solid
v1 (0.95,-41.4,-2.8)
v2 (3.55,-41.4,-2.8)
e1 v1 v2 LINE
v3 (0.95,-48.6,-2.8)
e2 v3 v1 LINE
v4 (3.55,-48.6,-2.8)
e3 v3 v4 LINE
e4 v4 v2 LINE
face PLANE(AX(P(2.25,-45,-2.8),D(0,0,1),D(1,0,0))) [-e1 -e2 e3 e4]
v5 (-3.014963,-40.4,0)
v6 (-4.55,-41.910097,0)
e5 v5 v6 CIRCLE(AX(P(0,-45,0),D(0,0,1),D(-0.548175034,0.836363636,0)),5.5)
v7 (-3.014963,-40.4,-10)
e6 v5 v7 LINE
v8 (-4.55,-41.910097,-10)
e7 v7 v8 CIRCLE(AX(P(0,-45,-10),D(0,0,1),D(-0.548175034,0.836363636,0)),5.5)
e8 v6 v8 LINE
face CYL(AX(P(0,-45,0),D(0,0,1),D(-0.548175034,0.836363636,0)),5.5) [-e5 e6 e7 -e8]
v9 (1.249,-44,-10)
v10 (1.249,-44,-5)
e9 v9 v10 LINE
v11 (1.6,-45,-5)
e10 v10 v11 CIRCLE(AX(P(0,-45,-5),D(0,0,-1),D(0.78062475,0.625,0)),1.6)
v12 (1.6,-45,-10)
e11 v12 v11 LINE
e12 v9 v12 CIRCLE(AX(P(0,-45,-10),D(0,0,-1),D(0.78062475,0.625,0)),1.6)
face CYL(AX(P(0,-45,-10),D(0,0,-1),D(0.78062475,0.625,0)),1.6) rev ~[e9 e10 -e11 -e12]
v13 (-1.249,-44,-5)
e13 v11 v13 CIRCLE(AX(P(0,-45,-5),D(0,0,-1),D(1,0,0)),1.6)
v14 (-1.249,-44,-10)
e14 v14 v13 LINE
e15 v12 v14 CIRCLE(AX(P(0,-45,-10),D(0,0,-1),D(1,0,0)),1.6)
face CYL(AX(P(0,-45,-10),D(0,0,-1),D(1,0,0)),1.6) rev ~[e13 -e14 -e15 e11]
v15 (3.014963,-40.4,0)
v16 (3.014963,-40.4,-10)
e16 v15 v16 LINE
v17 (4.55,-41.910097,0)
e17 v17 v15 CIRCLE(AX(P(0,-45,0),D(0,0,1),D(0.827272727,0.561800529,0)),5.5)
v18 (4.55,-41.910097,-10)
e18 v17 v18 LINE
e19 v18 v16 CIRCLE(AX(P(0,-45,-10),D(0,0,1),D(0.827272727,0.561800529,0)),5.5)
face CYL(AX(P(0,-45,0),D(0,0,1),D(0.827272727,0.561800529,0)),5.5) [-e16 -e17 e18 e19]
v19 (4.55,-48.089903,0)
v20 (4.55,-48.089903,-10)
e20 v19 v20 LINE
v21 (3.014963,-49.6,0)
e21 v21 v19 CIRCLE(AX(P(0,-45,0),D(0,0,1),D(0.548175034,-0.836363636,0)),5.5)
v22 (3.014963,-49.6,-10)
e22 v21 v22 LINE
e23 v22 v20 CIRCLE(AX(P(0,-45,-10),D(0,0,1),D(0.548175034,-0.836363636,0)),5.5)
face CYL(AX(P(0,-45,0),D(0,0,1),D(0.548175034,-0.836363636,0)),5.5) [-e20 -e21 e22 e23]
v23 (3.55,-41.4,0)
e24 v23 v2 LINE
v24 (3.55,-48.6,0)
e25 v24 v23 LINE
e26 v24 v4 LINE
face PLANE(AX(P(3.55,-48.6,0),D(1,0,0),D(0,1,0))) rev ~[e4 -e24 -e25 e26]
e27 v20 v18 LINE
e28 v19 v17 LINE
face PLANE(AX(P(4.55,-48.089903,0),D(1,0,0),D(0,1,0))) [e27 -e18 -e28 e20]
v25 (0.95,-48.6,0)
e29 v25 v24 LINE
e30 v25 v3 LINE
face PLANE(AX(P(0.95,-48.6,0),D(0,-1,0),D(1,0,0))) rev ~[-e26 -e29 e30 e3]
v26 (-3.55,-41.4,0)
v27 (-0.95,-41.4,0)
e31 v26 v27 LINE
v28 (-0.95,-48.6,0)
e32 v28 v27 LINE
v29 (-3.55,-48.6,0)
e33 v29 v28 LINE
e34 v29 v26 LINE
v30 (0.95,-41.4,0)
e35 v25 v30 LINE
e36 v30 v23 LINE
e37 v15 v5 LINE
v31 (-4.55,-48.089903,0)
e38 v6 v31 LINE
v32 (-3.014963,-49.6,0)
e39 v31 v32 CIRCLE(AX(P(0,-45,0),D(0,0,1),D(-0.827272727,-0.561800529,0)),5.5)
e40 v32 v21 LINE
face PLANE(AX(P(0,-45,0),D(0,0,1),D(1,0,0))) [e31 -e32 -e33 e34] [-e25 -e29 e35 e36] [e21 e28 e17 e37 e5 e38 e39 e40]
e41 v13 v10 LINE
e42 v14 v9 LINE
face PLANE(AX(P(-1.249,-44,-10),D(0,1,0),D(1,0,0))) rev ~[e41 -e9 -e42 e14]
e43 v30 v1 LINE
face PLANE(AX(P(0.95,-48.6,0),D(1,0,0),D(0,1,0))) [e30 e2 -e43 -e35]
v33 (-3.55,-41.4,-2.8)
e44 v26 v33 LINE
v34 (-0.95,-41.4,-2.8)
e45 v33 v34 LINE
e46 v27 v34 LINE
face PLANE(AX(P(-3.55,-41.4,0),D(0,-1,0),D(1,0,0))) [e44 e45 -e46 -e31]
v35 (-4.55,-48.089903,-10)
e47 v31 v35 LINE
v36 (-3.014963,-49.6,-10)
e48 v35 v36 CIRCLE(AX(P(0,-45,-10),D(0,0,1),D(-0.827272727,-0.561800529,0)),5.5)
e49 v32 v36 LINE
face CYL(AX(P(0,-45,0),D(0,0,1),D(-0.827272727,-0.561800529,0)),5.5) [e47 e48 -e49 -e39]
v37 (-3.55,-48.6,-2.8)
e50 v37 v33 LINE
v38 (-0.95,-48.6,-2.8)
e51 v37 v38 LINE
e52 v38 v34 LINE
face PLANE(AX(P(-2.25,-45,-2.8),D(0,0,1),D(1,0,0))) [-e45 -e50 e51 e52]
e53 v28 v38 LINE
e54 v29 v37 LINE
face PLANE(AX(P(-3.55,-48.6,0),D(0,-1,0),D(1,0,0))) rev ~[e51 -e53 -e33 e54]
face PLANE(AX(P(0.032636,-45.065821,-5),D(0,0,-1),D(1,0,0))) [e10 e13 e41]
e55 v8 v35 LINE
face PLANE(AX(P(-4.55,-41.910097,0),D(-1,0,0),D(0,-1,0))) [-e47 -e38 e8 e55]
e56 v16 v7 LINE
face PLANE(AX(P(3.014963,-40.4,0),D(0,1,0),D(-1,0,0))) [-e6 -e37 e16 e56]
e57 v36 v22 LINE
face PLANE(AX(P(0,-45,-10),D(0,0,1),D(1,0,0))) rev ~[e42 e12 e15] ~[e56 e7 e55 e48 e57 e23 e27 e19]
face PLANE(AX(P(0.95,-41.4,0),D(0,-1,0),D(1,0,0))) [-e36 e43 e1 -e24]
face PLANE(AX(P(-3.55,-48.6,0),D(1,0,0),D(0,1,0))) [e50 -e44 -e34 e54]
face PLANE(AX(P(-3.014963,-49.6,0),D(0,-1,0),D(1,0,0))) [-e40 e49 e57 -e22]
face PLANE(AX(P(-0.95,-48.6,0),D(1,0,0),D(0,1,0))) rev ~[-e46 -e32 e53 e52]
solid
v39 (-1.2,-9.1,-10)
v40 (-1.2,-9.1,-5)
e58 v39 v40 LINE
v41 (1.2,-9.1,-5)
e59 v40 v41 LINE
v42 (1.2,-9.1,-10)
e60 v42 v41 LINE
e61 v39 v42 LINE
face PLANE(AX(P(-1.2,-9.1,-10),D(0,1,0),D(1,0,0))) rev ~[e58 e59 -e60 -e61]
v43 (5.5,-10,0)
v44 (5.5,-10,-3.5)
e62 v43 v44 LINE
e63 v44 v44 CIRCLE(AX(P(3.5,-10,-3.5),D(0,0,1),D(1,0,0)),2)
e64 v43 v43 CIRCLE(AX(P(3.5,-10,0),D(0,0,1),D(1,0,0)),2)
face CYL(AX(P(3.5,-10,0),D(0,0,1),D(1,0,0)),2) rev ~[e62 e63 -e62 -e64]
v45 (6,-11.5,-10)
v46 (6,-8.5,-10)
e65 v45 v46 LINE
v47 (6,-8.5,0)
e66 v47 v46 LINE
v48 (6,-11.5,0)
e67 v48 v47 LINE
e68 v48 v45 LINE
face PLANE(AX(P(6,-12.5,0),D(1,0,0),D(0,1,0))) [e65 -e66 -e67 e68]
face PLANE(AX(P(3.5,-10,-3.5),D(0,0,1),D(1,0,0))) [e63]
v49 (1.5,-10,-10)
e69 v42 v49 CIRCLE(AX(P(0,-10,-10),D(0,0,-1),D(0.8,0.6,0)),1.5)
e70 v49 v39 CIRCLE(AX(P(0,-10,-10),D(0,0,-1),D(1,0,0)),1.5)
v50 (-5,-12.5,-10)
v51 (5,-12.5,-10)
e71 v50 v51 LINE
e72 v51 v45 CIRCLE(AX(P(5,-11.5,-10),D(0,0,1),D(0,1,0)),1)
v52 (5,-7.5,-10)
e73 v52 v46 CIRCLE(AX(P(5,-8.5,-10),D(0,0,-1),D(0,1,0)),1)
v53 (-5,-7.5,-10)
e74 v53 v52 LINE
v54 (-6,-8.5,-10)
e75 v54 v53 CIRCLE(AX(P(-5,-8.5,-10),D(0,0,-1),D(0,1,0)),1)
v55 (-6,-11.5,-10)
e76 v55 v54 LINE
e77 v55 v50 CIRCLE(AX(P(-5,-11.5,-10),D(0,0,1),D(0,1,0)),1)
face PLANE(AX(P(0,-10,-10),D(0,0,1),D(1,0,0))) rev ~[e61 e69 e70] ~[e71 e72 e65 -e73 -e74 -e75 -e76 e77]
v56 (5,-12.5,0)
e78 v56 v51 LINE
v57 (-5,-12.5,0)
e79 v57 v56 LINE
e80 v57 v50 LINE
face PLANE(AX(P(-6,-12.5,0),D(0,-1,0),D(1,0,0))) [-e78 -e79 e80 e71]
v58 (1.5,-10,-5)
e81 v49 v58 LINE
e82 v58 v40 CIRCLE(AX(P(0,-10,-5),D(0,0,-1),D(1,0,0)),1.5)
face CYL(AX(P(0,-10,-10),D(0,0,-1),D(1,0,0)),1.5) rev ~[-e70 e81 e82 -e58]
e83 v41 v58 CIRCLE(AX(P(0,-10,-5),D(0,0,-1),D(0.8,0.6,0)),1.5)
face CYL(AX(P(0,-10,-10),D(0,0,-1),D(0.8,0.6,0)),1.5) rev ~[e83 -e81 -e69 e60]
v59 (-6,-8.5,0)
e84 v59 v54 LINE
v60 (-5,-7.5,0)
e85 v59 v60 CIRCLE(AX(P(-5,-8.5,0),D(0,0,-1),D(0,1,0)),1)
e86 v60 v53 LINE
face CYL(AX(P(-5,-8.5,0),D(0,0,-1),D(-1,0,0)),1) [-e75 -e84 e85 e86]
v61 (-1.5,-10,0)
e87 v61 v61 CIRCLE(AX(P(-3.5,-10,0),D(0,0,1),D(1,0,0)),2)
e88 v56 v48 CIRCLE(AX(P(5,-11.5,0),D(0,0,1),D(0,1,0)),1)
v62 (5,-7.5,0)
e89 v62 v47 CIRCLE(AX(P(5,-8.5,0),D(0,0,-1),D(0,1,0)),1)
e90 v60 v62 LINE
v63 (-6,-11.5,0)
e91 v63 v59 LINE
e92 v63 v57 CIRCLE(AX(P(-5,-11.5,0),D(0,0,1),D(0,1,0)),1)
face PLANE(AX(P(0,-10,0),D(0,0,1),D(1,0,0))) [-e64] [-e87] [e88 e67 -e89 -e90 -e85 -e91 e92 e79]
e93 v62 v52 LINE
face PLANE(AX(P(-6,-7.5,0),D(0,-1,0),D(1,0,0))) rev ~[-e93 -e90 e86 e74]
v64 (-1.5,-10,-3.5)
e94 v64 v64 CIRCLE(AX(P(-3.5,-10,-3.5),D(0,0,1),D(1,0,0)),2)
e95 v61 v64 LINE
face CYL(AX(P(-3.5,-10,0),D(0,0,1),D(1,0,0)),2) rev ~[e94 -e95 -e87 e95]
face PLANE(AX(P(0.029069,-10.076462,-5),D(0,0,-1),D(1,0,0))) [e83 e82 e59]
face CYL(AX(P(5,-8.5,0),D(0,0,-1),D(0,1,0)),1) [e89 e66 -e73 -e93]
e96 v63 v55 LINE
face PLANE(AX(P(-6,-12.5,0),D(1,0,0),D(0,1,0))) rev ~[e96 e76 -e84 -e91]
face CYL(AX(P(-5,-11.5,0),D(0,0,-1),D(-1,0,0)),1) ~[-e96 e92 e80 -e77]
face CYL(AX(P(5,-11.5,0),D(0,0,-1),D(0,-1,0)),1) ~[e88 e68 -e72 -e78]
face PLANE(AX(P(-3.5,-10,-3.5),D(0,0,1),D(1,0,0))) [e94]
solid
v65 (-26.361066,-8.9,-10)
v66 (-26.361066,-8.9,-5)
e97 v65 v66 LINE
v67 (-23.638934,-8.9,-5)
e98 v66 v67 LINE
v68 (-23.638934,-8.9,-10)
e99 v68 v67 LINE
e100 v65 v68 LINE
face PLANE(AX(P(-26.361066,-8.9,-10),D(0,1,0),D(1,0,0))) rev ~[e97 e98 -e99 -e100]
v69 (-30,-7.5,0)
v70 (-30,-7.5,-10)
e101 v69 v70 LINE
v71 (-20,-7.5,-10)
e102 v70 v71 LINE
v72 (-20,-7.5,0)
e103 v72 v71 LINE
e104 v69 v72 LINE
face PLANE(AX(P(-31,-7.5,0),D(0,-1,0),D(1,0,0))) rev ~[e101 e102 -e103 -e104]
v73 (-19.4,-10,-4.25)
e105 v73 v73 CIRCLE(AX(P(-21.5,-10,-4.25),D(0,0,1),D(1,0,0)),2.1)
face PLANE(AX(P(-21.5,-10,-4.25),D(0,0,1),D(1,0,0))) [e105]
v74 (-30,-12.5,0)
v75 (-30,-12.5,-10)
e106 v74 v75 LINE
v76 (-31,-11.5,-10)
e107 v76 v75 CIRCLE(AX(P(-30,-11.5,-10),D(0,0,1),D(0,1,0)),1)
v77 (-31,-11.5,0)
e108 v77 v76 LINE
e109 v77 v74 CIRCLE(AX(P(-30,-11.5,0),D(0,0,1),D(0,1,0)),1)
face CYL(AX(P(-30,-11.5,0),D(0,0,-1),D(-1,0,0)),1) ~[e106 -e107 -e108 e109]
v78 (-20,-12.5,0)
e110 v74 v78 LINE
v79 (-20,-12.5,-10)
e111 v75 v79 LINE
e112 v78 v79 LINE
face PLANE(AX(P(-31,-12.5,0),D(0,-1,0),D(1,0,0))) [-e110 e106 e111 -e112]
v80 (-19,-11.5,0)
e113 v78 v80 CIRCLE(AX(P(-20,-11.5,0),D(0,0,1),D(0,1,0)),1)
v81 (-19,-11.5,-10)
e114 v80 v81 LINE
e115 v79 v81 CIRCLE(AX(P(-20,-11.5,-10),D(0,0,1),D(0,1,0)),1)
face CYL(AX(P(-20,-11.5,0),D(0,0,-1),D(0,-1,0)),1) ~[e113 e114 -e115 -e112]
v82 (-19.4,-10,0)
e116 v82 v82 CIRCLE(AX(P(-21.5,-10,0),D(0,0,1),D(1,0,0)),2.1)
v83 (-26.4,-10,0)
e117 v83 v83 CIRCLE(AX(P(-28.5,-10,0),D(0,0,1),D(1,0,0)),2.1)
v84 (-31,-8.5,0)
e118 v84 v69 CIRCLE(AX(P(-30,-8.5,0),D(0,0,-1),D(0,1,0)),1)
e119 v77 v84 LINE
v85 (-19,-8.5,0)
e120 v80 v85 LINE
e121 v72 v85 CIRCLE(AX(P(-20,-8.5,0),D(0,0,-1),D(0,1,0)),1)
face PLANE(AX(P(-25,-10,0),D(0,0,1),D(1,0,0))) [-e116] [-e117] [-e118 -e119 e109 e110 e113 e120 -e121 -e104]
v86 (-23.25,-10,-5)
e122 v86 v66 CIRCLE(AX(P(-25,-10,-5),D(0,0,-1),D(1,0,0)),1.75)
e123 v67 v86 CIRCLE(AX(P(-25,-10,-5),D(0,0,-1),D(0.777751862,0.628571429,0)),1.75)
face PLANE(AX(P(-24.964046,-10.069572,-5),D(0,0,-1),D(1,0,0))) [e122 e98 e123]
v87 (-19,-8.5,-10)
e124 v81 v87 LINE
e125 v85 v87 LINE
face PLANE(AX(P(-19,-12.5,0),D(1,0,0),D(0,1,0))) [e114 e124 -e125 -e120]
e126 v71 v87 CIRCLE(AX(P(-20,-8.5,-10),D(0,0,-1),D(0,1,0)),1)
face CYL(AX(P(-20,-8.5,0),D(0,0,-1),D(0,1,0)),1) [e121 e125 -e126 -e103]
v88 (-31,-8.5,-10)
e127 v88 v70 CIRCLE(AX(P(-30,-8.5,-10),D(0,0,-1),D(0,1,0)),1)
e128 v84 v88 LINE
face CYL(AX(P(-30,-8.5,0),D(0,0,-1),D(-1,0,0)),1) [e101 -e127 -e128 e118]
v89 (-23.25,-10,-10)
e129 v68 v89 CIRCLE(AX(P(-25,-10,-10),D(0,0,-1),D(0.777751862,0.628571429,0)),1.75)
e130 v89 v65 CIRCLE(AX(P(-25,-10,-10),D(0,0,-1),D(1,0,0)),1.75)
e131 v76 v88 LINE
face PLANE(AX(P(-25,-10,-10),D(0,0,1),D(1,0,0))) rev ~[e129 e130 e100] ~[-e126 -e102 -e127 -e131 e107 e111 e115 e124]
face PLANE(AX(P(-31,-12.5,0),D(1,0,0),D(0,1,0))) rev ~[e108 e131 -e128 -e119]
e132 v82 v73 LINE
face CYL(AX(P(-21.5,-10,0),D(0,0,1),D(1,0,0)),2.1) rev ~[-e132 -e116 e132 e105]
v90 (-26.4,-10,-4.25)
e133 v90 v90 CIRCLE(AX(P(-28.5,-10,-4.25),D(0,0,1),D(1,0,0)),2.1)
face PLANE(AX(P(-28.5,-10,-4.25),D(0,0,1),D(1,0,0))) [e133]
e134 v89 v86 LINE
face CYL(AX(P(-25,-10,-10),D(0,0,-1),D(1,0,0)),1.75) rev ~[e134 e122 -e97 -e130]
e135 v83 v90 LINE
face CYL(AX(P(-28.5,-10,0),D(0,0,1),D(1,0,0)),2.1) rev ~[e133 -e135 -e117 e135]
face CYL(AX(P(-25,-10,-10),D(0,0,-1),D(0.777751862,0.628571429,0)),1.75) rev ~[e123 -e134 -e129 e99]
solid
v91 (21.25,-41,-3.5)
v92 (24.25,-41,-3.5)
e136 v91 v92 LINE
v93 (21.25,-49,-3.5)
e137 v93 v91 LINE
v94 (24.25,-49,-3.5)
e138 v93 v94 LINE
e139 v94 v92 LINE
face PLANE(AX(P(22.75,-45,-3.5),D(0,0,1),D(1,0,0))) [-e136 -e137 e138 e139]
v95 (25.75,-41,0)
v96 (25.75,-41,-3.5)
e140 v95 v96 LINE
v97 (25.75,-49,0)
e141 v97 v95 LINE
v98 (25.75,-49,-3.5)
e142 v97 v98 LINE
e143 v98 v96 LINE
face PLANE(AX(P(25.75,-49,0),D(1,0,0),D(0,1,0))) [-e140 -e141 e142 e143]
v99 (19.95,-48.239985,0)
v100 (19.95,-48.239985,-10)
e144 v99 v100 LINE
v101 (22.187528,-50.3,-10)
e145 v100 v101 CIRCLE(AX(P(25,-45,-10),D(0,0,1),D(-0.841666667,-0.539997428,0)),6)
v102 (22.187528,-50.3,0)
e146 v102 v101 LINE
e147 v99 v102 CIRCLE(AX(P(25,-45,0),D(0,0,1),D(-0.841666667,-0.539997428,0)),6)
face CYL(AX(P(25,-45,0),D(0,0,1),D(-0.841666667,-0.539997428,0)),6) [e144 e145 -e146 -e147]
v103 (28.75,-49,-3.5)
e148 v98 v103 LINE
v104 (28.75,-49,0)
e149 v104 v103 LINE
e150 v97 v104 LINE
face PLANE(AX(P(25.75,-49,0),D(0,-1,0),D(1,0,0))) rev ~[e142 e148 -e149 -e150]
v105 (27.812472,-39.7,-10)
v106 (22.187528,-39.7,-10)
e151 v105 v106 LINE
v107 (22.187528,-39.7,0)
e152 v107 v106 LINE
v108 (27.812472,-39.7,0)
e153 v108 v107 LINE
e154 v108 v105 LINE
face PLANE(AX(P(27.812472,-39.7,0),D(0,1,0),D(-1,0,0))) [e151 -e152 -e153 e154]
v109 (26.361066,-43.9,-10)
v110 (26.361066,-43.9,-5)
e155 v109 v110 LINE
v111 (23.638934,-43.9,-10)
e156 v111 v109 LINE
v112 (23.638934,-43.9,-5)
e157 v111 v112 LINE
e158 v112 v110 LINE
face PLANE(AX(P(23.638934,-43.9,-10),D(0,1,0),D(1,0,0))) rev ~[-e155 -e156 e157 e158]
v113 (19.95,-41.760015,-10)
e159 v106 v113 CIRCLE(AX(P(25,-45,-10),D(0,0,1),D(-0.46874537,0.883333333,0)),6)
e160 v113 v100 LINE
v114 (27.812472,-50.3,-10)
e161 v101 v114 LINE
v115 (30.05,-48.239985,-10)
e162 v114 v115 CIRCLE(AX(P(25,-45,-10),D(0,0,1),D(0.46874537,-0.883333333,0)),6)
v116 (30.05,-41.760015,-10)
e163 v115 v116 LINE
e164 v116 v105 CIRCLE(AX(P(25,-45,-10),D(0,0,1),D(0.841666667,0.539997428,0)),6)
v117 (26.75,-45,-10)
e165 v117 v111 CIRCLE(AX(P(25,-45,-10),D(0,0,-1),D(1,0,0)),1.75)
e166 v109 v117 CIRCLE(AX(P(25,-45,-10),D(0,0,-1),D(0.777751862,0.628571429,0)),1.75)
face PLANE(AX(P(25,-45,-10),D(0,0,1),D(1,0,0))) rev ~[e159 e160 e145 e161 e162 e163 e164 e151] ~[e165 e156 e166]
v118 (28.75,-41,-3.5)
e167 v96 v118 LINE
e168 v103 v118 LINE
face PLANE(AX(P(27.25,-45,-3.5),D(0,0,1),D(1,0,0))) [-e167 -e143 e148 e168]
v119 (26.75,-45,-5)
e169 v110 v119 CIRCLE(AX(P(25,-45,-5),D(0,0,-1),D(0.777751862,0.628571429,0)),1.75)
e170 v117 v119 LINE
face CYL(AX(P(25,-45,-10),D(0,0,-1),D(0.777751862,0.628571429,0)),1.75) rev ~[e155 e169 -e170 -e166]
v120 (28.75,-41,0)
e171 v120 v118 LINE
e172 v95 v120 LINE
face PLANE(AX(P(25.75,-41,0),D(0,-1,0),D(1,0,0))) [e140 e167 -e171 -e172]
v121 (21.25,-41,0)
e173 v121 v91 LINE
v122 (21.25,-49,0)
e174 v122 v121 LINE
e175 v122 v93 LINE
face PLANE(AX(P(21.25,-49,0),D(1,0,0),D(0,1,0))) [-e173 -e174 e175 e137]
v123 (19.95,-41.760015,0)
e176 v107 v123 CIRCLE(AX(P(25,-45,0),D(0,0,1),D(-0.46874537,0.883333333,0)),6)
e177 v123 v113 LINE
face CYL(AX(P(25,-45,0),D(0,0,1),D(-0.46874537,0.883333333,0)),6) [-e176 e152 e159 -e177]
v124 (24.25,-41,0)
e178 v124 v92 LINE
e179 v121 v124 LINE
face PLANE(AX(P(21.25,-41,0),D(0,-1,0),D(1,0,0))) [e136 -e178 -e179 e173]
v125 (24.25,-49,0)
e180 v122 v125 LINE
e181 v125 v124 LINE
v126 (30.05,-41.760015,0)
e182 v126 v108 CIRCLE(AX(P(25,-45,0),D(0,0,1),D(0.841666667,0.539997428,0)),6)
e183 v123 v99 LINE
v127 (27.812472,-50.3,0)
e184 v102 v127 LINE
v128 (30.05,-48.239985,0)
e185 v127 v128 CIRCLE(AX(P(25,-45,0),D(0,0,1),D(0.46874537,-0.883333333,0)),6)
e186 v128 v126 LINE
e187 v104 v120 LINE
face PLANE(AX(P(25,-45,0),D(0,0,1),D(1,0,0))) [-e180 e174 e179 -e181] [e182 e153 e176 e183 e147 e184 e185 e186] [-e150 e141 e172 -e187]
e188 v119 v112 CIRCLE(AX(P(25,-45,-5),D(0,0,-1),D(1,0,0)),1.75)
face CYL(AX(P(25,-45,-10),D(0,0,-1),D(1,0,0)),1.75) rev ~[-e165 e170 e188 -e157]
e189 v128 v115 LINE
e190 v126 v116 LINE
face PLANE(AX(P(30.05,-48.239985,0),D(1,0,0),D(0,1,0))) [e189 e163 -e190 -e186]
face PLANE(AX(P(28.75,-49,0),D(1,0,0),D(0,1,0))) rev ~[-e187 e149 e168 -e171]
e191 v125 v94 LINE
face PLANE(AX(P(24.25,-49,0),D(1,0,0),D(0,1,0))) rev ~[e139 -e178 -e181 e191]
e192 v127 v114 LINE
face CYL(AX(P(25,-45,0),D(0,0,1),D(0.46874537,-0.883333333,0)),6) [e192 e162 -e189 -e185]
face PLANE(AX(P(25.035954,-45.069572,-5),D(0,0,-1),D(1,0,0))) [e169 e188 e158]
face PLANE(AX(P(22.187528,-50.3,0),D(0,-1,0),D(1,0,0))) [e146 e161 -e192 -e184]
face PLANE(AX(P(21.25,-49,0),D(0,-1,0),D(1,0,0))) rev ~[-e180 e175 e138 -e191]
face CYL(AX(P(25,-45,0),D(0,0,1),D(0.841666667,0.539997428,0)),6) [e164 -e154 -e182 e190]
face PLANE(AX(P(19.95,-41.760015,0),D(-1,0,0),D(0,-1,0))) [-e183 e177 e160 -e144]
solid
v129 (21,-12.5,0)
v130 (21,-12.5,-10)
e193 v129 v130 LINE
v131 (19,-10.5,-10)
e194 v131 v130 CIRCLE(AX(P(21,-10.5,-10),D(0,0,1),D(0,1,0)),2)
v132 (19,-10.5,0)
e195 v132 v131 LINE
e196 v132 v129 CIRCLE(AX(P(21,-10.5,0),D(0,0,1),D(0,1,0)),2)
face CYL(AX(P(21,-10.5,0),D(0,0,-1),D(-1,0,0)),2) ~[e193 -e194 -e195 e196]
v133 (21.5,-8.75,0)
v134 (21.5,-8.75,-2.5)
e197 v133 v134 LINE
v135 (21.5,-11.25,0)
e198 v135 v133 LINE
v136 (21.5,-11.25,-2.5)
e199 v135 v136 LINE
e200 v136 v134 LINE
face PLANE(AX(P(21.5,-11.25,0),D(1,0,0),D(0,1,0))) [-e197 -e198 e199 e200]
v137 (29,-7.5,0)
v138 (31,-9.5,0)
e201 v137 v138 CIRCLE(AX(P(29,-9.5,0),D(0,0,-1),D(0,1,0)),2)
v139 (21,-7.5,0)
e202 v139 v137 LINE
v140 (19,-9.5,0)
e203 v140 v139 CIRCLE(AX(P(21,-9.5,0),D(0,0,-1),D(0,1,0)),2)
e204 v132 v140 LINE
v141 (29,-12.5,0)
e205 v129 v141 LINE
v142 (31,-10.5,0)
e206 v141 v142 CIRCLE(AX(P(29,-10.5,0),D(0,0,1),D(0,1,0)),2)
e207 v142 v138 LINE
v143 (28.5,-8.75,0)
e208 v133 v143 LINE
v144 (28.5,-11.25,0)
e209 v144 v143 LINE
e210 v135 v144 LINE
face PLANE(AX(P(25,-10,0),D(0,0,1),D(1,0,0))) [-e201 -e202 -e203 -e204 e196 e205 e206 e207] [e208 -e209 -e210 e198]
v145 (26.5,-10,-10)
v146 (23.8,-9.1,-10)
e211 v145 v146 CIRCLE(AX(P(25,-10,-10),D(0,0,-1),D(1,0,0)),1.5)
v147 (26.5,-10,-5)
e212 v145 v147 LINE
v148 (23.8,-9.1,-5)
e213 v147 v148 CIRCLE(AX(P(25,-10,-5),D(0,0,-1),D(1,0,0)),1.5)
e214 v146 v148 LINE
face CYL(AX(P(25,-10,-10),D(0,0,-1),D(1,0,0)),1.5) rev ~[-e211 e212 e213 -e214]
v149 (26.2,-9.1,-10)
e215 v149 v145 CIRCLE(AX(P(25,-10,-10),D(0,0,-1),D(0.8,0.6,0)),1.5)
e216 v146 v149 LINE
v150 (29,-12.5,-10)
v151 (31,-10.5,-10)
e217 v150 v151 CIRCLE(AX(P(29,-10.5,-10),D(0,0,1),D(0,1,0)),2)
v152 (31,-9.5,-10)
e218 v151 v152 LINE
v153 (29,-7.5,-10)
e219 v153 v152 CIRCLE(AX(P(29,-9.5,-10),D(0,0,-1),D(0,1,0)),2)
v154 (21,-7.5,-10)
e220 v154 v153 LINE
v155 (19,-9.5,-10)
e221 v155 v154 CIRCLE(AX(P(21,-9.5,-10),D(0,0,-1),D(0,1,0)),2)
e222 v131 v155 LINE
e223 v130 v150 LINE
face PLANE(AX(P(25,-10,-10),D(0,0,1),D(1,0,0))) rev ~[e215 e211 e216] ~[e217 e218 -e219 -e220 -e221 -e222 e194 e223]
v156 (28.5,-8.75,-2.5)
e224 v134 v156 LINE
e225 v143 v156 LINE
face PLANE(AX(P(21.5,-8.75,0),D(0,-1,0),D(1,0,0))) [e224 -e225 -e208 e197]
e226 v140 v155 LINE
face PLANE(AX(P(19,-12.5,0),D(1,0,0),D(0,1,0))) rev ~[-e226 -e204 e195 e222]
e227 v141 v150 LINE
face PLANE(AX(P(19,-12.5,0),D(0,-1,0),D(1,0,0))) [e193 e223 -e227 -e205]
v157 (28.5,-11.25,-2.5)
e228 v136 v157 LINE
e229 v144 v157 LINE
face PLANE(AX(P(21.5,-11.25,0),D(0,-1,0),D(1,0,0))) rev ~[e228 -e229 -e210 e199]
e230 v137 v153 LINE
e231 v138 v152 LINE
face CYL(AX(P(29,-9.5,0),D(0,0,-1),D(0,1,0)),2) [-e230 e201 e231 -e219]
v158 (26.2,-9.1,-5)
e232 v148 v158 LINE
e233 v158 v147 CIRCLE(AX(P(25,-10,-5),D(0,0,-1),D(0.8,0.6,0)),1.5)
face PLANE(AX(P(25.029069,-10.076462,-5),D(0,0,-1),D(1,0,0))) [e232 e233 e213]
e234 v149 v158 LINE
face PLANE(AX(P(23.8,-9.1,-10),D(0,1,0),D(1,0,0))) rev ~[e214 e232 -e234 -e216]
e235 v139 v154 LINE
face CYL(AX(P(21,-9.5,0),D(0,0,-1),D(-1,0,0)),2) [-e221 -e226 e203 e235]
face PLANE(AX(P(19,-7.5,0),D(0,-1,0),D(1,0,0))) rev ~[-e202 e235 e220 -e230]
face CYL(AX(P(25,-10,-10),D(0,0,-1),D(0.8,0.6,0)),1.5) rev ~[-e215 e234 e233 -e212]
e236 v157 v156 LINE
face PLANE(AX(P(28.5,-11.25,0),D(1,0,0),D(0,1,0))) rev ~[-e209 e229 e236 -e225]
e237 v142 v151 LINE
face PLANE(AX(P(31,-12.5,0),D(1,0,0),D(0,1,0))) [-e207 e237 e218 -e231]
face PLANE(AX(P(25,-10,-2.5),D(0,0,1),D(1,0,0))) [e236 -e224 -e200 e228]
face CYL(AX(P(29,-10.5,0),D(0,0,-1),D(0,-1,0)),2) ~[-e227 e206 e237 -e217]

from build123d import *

# Parameters (mm, degrees)
F0_W      = 12
F0_H      = 5
F0_R      = 2
F1_DEPTH  = 10
F2_DEPTH  = 3.5
F4_R      = 1
F0_W_2    = 7
F0_H_2    = 2.5
F5_DEPTH  = 10
F7_DEPTH  = 2.5
F8_DEPTH  = 5
F9_R      = 2
F10_DEPTH = 5
F0_W_3    = 2.6
F0_H_3    = 7.2
F11_DEPTH = 10
F12_DEPTH = 2.8
F14_DEPTH = 5
F0_W_4    = 3
F0_H_4    = 8
F15_DEPTH = 10
F16_DEPTH = 3.5
F18_DEPTH = 5
F0_R_2    = 2.1
F19_DEPTH = 10
F20_DEPTH = 4.25
F22_DEPTH = 5
F23_R     = 1


with BuildPart() as f1:
    # F0 (on Top) → F1 (new body)
    with BuildSketch(Plane.XY):
        with Locations((0, -10)):
            Rectangle(F0_W, F0_H)
        with Locations((-3.5, -10)):
            Circle(F0_R, mode=Mode.SUBTRACT)
        with Locations((3.5, -10)):
            Circle(F0_R, mode=Mode.SUBTRACT)
        with Locations((-3.5, -10)):
            Circle(F0_R)
        with Locations((3.5, -10)):
            Circle(F0_R)
    extrude(amount=-F1_DEPTH)

    # F0 (on Top) → F2 (cut)
    with BuildSketch(Plane.XY):
        with Locations((-3.5, -10)):
            Circle(F0_R)
        with Locations((3.5, -10)):
            Circle(F0_R)
    extrude(amount=-F2_DEPTH, mode=Mode.SUBTRACT)

    # F4
    f4_edges = [f1.edges().sort_by_distance(p)[0] for p in [
        (6, -12.5, -5),
        (6, -7.5, -5),
        (-6, -12.5, -5),
        (-6, -7.5, -5),
    ]]
    fillet(f4_edges, radius=F4_R)

    # F3 (on face) → F10 (cut)
    with BuildSketch(Plane(origin=(0, 0, -10), x_dir=(1, 0, 0), z_dir=(0, 0, -1))):
        with BuildLine():
            ThreePointArc((1.2, 9.1), (1.4230249471, 9.525658351), (1.5, 10))
            ThreePointArc((1.5, 10), (-0.474341649, 11.4230249471), (-1.2, 9.1))
            Line((-1.2, 9.1), (1.2, 9.1))
        make_face()
    extrude(amount=-F10_DEPTH, mode=Mode.SUBTRACT)


with BuildPart() as f5:
    # F0 (on Top) → F5 (new body)
    with BuildSketch(Plane.XY):
        with Locations((25, -10)):
            Rectangle(F0_W, F0_H)
        with Locations((25, -10)):
            Rectangle(F0_W_2, F0_H_2, mode=Mode.SUBTRACT)
        with Locations((25, -10)):
            Rectangle(F0_W_2, F0_H_2)
    extrude(amount=-F5_DEPTH)

    # F0 (on Top) → F7 (cut)
    with BuildSketch(Plane.XY):
        with Locations((25, -10)):
            Rectangle(F0_W_2, F0_H_2)
    extrude(amount=-F7_DEPTH, mode=Mode.SUBTRACT)

    # F6 (on face) → F8 (cut)
    with BuildSketch(Plane(origin=(0, 0, -10), x_dir=(1, 0, 0), z_dir=(0, 0, -1))):
        with BuildLine():
            ThreePointArc((26.2, 9.1), (26.4230249471, 9.525658351), (26.5, 10))
            ThreePointArc((26.5, 10), (24.525658351, 11.4230249471), (23.8, 9.1))
            Line((23.8, 9.1), (26.2, 9.1))
        make_face()
    extrude(amount=-F8_DEPTH, mode=Mode.SUBTRACT)

    # F9
    f9_edges = [f5.edges().sort_by_distance(p)[0] for p in [
        (19, -12.5, -5),
        (31, -12.5, -5),
        (31, -7.5, -5),
        (19, -7.5, -5),
    ]]
    fillet(f9_edges, radius=F9_R)


with BuildPart() as f11:
    # F0 (on Top) → F11 (new body)
    with BuildSketch(Plane.XY):
        with BuildLine():
            Line((4.55, -48.0899029111), (4.55, -41.9100970889))
            ThreePointArc((4.55, -41.9100970889), (3.8571055749, -41.0791918455), (3.0149626863, -40.4))
            Line((3.0149626863, -40.4), (-3.0149626863, -40.4))
            ThreePointArc((-3.0149626863, -40.4), (-3.8571055749, -41.0791918455), (-4.55, -41.9100970889))
            Line((-4.55, -41.9100970889), (-4.55, -48.0899029111))
            ThreePointArc((-4.55, -48.0899029111), (-3.8571055749, -48.9208081545), (-3.0149626863, -49.6))
            Line((-3.0149626863, -49.6), (3.0149626863, -49.6))
            ThreePointArc((3.0149626863, -49.6), (3.8571055749, -48.9208081545), (4.55, -48.0899029111))
        make_face()
        with Locations((-2.25, -45)):
            Rectangle(F0_W_3, F0_H_3, mode=Mode.SUBTRACT)
        with Locations((2.25, -45)):
            Rectangle(F0_W_3, F0_H_3, mode=Mode.SUBTRACT)
        with Locations((-2.25, -45)):
            Rectangle(F0_W_3, F0_H_3)
        with Locations((2.25, -45)):
            Rectangle(F0_W_3, F0_H_3)
    extrude(amount=-F11_DEPTH)

    # F0 (on Top) → F12 (cut)
    with BuildSketch(Plane.XY):
        with Locations((-2.25, -45)):
            Rectangle(F0_W_3, F0_H_3)
        with Locations((2.25, -45)):
            Rectangle(F0_W_3, F0_H_3)
    extrude(amount=-F12_DEPTH, mode=Mode.SUBTRACT)

    # F13 (on face) → F14 (cut)
    with BuildSketch(Plane(origin=(0, 0, -10), x_dir=(1, 0, 0), z_dir=(0, 0, -1))):
        with BuildLine():
            ThreePointArc((1.2489995997, 44), (1.5097018513, 44.4700940458), (1.6, 45))
            ThreePointArc((1.6, 45), (-0.5299059542, 46.5097018513), (-1.2489995997, 44))
            Line((-1.2489995997, 44), (1.2489995997, 44))
        make_face()
    extrude(amount=-F14_DEPTH, mode=Mode.SUBTRACT)


with BuildPart() as f15:
    # F0 (on Top) → F15 (new body)
    with BuildSketch(Plane.XY):
        with BuildLine():
            Line((30.05, -48.2399845679), (30.05, -41.7600154321))
            ThreePointArc((30.05, -41.7600154321), (29.0639307642, -40.5858787121), (27.8124722221, -39.7))
            Line((27.8124722221, -39.7), (22.1875277779, -39.7))
            ThreePointArc((22.1875277779, -39.7), (20.9360692358, -40.5858787121), (19.95, -41.7600154321))
            Line((19.95, -41.7600154321), (19.95, -48.2399845679))
            ThreePointArc((19.95, -48.2399845679), (20.9360692358, -49.4141212879), (22.1875277779, -50.3))
            Line((22.1875277779, -50.3), (27.8124722221, -50.3))
            ThreePointArc((27.8124722221, -50.3), (29.0639307642, -49.4141212879), (30.05, -48.2399845679))
        make_face()
        with Locations((22.75, -45)):
            Rectangle(F0_W_4, F0_H_4, mode=Mode.SUBTRACT)
        with Locations((27.25, -45)):
            Rectangle(F0_W_4, F0_H_4, mode=Mode.SUBTRACT)
        with Locations((22.75, -45)):
            Rectangle(F0_W_4, F0_H_4)
        with Locations((27.25, -45)):
            Rectangle(F0_W_4, F0_H_4)
    extrude(amount=-F15_DEPTH)

    # F0 (on Top) → F16 (cut)
    with BuildSketch(Plane.XY):
        with Locations((22.75, -45)):
            Rectangle(F0_W_4, F0_H_4)
        with Locations((27.25, -45)):
            Rectangle(F0_W_4, F0_H_4)
    extrude(amount=-F16_DEPTH, mode=Mode.SUBTRACT)

    # F17 (on face) → F18 (cut)
    with BuildSketch(Plane(origin=(0, 0, -10), x_dir=(1, 0, 0), z_dir=(0, 0, -1))):
        with BuildLine():
            ThreePointArc((26.3610657589, 43.9), (26.6499037969, 44.4166326535), (26.75, 45))
            ThreePointArc((26.75, 45), (24.4166326535, 46.6499037969), (23.6389342411, 43.9))
            Line((23.6389342411, 43.9), (26.3610657589, 43.9))
        make_face()
    extrude(amount=-F18_DEPTH, mode=Mode.SUBTRACT)


with BuildPart() as f19:
    # F0 (on Top) → F19 (new body)
    with BuildSketch(Plane.XY):
        with Locations((-25, -10)):
            Rectangle(F0_W, F0_H)
        with Locations((-28.5, -10)):
            Circle(F0_R_2, mode=Mode.SUBTRACT)
        with Locations((-21.5, -10)):
            Circle(F0_R_2, mode=Mode.SUBTRACT)
        with Locations((-21.5, -10)):
            Circle(F0_R_2)
        with Locations((-28.5, -10)):
            Circle(F0_R_2)
    extrude(amount=-F19_DEPTH)

    # F0 (on Top) → F20 (cut)
    with BuildSketch(Plane.XY):
        with Locations((-21.5, -10)):
            Circle(F0_R_2)
        with Locations((-28.5, -10)):
            Circle(F0_R_2)
    extrude(amount=-F20_DEPTH, mode=Mode.SUBTRACT)

    # F21 (on face) → F22 (cut)
    with BuildSketch(Plane(origin=(0, 0, -10), x_dir=(1, 0, 0), z_dir=(0, 0, -1))):
        with BuildLine():
            ThreePointArc((-23.6389342411, 8.9), (-23.3500962031, 9.4166326535), (-23.25, 10))
            ThreePointArc((-23.25, 10), (-25.5833673465, 11.6499037969), (-26.3610657589, 8.9))
            Line((-26.3610657589, 8.9), (-23.6389342411, 8.9))
        make_face()
    extrude(amount=-F22_DEPTH, mode=Mode.SUBTRACT)

    # F23
    f23_edges = [f19.edges().sort_by_distance(p)[0] for p in [
        (-31, -7.5, -5),
        (-31, -12.5, -5),
        (-19, -7.5, -5),
        (-19, -12.5, -5),
    ]]
    fillet(f23_edges, radius=F23_R)


solid = Compound([f1.part, f5.part, f11.part, f15.part, f19.part])
